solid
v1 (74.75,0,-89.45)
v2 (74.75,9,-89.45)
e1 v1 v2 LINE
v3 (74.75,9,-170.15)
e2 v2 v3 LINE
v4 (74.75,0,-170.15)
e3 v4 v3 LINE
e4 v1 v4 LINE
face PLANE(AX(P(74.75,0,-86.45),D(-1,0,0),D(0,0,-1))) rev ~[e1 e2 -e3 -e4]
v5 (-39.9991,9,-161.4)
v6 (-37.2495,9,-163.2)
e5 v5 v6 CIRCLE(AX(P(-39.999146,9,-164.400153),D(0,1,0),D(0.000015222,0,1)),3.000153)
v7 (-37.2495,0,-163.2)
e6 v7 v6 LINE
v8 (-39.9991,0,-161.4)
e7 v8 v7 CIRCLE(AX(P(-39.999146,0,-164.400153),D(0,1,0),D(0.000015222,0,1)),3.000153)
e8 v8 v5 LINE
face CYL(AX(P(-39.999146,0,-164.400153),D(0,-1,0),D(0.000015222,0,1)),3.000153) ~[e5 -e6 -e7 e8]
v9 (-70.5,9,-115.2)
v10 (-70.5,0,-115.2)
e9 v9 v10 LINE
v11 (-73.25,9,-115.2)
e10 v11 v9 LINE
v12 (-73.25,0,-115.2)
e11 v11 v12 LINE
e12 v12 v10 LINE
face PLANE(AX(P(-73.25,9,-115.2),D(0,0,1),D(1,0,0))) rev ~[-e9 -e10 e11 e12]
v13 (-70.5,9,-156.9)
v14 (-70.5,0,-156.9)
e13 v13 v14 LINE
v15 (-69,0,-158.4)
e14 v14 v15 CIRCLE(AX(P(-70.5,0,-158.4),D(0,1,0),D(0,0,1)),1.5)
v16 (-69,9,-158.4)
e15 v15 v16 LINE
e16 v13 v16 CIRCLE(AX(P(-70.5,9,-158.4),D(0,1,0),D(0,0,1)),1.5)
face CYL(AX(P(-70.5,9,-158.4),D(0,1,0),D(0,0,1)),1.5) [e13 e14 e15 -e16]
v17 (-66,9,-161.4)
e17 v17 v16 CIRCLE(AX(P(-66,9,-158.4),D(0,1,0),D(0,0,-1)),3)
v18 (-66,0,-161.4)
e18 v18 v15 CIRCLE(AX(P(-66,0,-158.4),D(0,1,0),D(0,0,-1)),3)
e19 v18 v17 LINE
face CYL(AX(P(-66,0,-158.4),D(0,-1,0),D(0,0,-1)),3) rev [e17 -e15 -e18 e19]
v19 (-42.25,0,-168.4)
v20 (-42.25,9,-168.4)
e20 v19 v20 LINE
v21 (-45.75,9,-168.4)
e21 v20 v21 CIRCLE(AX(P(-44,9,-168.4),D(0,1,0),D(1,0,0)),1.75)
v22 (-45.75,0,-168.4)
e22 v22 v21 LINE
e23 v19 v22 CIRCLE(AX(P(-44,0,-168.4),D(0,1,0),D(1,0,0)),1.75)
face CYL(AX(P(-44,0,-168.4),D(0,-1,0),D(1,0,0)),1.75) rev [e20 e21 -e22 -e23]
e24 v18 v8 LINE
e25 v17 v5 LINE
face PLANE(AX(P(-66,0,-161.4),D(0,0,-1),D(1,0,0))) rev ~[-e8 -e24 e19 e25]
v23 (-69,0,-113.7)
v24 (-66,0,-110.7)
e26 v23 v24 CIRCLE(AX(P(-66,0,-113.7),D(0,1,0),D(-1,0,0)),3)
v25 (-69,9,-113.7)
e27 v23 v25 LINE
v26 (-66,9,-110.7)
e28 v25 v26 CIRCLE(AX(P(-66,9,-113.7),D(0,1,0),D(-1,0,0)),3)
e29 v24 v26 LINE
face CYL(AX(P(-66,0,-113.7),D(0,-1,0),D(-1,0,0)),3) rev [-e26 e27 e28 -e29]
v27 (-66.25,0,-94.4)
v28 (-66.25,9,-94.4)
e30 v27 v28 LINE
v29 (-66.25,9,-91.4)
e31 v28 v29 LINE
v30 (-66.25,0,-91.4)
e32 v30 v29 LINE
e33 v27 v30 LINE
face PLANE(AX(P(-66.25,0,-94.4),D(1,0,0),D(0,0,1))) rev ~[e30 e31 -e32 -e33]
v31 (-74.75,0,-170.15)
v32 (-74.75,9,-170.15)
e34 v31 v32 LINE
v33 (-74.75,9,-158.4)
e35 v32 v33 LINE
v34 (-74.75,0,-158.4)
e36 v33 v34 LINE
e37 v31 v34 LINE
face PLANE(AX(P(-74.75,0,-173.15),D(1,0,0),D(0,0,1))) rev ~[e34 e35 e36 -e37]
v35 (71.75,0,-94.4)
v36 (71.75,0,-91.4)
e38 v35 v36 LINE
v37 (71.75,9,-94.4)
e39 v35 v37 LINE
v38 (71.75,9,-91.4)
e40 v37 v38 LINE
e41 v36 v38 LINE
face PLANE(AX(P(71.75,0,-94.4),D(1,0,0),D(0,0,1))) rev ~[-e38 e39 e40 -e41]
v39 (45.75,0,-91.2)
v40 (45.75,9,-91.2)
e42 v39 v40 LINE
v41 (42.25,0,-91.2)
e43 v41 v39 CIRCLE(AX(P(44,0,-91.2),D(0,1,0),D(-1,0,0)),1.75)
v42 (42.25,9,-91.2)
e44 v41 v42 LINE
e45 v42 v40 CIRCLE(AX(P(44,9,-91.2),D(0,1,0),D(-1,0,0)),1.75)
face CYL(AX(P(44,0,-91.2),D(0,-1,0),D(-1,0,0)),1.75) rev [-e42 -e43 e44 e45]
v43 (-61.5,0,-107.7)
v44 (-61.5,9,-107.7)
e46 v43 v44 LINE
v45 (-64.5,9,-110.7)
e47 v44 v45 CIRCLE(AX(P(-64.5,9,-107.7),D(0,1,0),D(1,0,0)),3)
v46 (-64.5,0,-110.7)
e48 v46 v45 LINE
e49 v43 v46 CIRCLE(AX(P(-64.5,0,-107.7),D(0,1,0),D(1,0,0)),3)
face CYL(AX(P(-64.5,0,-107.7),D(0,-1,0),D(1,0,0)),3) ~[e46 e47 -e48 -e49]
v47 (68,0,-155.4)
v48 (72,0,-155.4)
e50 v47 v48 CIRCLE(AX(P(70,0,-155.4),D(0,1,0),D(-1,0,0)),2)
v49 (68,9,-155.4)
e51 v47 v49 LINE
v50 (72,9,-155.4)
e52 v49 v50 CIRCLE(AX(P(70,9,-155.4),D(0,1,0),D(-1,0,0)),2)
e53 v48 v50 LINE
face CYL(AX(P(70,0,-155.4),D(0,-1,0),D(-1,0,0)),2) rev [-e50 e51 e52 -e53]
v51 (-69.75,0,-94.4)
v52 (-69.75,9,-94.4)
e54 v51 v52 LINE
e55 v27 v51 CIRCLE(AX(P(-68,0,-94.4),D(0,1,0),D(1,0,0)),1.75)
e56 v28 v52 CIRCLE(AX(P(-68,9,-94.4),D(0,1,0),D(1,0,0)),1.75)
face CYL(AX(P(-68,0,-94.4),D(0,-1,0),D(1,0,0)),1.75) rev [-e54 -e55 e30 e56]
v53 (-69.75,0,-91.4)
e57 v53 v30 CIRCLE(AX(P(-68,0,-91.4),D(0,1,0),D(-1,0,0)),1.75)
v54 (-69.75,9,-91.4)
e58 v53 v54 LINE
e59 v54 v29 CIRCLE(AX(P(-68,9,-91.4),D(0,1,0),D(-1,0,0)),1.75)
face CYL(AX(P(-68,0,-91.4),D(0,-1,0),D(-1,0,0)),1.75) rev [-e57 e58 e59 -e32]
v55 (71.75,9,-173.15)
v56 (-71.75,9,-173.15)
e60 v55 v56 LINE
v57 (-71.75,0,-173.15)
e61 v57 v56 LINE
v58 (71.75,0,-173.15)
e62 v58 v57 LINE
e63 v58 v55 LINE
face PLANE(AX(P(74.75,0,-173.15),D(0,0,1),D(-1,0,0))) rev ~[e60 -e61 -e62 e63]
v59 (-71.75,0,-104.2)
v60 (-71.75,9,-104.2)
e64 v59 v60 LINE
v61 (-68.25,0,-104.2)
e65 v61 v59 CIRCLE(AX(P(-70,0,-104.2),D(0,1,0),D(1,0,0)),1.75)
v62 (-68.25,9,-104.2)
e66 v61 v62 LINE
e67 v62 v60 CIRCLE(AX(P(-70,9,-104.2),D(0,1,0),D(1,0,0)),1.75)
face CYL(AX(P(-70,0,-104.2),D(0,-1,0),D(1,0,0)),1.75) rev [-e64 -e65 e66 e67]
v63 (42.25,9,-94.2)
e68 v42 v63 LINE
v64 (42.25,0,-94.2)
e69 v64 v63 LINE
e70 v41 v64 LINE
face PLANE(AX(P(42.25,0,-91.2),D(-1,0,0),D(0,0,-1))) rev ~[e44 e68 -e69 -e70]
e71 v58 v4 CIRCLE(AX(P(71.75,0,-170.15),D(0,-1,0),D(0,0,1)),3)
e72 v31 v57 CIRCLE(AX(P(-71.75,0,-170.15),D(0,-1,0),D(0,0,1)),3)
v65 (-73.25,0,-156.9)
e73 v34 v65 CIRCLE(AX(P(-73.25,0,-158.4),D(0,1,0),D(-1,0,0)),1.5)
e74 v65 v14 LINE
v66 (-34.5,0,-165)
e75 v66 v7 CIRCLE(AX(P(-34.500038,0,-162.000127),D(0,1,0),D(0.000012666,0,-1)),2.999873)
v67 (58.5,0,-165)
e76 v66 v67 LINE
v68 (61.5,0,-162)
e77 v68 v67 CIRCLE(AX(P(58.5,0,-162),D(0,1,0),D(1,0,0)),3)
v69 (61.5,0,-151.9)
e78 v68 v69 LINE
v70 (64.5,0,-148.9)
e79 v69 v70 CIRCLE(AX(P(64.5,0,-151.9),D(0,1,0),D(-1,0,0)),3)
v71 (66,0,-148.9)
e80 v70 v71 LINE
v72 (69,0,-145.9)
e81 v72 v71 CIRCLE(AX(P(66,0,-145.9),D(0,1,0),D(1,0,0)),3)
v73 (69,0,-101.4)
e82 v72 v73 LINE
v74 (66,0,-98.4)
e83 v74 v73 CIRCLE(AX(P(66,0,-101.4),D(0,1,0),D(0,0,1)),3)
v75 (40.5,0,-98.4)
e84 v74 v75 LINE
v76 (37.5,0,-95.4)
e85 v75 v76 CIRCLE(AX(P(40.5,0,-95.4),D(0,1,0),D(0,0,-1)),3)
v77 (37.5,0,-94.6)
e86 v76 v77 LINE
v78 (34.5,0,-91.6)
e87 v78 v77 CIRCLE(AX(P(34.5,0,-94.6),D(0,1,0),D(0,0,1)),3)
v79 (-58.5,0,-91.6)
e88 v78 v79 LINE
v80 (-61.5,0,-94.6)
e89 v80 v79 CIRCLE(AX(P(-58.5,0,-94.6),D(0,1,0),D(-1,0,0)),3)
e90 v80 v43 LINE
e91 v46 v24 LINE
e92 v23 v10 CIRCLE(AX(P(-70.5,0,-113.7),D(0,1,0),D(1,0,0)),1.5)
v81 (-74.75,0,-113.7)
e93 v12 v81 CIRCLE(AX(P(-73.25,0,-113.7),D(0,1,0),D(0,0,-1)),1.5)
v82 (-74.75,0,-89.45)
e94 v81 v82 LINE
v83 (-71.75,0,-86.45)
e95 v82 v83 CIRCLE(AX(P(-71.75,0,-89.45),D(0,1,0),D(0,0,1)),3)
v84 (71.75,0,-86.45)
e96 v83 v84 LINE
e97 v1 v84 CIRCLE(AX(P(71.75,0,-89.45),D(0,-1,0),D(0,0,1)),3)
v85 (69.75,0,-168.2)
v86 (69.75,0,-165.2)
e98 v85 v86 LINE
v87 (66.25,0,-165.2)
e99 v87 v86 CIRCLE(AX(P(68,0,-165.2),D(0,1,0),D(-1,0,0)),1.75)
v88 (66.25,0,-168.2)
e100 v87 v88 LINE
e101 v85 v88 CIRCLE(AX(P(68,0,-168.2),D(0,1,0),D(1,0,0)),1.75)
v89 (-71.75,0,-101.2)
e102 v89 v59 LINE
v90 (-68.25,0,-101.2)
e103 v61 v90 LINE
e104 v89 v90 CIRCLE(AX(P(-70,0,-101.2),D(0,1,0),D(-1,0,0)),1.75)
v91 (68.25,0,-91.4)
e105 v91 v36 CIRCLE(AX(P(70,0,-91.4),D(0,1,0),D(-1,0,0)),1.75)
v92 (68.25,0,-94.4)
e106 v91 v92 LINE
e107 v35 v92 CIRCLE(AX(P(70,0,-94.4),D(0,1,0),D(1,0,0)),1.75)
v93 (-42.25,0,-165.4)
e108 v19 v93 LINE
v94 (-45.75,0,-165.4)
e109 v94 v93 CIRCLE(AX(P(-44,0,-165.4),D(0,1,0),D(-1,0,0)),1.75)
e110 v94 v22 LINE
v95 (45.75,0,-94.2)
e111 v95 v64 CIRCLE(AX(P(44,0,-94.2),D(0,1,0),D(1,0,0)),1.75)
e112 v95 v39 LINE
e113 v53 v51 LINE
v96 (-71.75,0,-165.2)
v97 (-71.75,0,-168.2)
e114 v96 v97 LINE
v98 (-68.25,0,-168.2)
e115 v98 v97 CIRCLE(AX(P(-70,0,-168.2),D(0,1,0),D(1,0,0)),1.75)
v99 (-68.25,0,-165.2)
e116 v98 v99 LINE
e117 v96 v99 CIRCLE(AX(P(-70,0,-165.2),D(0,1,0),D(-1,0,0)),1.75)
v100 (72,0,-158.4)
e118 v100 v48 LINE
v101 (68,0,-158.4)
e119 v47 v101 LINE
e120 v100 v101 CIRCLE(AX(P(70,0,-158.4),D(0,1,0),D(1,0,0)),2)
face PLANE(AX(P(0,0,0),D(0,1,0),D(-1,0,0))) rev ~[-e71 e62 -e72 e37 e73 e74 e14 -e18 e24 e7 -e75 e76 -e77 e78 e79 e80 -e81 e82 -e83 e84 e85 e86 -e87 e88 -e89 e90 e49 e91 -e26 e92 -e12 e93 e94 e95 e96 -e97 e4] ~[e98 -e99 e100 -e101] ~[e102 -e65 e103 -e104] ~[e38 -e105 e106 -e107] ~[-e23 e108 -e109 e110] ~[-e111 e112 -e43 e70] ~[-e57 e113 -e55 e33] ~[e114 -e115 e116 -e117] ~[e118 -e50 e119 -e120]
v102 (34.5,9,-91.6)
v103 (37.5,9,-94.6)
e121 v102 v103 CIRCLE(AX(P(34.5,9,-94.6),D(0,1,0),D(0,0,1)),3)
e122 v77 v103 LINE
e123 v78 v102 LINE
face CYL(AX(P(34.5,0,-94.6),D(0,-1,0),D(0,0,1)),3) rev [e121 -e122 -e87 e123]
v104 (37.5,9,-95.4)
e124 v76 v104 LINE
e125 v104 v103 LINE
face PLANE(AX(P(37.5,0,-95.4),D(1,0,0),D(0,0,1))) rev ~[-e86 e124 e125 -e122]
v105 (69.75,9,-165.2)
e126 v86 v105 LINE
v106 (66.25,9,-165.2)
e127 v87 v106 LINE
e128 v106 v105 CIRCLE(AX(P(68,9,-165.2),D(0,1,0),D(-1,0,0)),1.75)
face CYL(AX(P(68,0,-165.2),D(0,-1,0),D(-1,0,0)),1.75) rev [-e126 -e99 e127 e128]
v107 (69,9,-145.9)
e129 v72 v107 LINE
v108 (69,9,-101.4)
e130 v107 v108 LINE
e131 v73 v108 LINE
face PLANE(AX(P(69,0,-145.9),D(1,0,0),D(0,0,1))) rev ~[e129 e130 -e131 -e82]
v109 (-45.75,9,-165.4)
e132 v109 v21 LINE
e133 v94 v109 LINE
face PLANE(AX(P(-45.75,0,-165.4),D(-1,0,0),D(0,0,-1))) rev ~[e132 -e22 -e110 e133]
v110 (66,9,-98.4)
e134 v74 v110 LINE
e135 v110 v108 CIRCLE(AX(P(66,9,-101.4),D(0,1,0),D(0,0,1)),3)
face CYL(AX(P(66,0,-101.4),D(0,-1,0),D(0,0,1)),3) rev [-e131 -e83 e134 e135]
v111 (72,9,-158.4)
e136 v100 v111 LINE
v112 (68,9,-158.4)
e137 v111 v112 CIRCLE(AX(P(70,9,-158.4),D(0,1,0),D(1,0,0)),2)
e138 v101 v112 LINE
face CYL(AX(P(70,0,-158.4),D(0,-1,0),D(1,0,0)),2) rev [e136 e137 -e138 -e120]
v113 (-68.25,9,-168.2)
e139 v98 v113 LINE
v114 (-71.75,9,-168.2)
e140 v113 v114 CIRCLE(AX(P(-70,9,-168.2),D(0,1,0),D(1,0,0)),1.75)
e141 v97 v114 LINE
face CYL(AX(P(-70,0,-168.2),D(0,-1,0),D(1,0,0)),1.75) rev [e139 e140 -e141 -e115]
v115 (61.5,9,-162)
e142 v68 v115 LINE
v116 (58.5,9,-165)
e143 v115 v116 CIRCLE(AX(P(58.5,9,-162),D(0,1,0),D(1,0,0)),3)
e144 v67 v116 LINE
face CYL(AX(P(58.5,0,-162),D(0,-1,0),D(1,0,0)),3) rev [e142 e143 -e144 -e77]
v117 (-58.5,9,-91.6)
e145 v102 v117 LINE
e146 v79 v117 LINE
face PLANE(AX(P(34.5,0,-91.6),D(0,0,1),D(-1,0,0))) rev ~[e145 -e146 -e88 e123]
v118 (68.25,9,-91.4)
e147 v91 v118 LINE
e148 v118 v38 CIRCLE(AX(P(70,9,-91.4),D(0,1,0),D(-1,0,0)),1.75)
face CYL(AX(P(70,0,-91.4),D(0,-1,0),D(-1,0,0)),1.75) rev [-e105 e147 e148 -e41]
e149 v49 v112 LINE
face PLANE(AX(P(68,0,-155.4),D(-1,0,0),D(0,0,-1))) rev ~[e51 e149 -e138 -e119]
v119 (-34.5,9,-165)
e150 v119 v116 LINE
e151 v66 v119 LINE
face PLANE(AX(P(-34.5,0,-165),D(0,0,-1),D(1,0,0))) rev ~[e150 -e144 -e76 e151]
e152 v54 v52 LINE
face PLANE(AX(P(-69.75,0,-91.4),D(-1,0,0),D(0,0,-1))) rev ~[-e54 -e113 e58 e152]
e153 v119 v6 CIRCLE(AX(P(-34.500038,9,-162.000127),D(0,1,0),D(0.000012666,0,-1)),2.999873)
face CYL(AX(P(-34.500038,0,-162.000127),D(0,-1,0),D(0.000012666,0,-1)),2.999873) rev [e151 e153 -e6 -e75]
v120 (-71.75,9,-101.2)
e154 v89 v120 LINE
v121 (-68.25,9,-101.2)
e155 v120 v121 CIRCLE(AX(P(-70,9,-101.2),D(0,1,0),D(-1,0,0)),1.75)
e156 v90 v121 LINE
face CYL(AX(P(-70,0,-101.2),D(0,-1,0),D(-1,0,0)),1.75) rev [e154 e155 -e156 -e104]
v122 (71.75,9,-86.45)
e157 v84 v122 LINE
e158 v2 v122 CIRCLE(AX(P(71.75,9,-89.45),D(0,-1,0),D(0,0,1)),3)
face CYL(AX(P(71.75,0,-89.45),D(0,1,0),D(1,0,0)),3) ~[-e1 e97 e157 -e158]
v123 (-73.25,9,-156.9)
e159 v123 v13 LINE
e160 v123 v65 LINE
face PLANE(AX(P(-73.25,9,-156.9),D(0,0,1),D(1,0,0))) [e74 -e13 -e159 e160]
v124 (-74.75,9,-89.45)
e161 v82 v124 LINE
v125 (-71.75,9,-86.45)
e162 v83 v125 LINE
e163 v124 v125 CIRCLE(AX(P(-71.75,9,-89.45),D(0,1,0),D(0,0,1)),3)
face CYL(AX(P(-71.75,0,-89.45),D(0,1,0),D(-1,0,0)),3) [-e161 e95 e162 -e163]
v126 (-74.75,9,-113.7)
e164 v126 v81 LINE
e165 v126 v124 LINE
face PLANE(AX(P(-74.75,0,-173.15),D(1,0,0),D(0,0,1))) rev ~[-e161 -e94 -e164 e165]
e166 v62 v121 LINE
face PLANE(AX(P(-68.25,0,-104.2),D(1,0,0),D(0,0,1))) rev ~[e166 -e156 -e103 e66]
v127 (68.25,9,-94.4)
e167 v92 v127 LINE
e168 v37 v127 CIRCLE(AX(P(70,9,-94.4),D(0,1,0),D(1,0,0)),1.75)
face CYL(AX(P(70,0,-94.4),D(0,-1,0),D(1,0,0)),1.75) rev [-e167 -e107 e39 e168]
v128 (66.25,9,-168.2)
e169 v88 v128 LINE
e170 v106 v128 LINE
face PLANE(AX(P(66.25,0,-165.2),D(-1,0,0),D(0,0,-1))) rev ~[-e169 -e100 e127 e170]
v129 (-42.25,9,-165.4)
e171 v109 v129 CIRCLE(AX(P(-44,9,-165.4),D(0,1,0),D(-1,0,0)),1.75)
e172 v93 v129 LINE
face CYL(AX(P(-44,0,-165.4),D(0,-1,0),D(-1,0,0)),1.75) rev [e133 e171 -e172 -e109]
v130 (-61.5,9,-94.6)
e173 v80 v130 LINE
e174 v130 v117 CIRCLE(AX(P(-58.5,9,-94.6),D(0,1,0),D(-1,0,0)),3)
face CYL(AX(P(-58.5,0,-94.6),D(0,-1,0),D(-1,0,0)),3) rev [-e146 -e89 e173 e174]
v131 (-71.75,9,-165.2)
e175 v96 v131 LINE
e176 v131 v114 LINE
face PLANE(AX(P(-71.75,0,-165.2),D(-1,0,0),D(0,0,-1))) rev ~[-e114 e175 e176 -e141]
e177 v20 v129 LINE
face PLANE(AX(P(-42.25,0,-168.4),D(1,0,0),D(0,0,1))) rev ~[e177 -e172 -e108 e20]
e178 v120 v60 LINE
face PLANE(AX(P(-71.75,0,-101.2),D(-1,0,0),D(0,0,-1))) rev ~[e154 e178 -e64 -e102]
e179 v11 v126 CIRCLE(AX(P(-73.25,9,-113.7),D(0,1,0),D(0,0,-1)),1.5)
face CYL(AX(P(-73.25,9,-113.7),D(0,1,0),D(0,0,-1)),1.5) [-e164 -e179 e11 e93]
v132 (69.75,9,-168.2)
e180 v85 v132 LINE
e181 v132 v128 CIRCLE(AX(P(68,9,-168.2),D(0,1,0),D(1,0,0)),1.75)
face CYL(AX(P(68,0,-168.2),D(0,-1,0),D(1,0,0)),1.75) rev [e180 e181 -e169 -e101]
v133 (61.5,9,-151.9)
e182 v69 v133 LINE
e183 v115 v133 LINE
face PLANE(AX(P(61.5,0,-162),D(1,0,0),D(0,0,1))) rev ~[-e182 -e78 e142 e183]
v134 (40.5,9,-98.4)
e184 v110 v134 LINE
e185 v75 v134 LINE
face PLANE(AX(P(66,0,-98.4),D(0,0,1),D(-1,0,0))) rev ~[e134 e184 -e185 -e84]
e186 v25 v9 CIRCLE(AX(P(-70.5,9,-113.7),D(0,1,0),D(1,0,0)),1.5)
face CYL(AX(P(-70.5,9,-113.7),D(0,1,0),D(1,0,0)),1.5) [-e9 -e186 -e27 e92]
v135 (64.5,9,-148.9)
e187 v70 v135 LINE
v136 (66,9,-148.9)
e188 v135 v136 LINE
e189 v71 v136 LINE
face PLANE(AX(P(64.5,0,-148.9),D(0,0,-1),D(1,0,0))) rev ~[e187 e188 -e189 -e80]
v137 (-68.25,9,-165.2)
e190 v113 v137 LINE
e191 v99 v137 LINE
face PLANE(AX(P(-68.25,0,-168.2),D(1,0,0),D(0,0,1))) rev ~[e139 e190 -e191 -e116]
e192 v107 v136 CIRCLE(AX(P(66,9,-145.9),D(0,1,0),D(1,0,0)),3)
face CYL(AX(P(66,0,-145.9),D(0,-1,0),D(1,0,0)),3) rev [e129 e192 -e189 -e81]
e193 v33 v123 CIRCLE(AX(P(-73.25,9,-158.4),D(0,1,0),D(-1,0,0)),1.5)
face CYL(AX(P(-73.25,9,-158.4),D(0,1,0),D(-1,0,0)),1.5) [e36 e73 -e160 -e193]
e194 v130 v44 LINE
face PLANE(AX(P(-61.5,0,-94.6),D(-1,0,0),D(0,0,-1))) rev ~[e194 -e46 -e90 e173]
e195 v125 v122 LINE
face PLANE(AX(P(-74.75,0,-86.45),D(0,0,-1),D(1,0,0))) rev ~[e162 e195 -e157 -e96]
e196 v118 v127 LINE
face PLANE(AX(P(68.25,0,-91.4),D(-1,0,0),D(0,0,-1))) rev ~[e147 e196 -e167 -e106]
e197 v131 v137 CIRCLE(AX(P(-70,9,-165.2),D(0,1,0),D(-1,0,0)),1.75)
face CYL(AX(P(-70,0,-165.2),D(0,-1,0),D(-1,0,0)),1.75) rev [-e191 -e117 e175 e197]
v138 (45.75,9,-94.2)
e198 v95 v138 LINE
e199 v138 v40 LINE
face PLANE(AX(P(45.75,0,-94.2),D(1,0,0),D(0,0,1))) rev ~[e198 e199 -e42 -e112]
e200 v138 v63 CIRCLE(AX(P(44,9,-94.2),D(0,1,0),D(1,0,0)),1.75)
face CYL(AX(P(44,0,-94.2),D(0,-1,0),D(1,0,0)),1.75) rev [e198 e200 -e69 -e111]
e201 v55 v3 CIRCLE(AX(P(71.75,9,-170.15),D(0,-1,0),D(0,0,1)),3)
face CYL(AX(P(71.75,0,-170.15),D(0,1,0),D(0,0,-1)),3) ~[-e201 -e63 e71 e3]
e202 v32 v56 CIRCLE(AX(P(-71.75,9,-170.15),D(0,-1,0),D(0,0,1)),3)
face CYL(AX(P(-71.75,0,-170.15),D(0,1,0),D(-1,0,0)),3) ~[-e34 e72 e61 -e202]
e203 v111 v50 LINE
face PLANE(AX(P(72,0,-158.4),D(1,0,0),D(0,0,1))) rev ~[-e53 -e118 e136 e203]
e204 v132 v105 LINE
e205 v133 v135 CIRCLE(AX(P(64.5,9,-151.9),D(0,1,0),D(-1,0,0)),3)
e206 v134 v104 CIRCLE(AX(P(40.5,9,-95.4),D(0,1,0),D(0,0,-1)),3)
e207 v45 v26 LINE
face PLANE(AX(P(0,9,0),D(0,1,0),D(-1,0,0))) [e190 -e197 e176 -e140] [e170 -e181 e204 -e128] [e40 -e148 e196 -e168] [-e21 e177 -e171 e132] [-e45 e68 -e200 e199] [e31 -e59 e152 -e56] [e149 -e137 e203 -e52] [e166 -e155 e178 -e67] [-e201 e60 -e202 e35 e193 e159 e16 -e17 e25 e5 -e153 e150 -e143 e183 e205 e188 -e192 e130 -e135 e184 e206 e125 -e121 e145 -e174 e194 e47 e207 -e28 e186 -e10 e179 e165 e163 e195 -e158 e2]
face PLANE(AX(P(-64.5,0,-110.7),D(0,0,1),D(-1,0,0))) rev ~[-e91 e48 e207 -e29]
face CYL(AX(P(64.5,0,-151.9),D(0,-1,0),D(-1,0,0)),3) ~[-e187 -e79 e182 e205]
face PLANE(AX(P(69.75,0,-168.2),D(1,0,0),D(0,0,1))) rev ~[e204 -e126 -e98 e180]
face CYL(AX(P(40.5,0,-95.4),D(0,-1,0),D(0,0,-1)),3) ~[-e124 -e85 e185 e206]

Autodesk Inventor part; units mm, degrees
ref_plane "YZ Plane" through (0, 0, 0) normal (1, 0, 0) x (0, 1, 0)
ref_plane "XZ Plane" through (0, 0, 0) normal (0, 1, 0) x (-1, 0, 0)
ref_plane "XY Plane" through (0, 0, 0) normal (0, 0, 1) x (1, 0, 0)
sketch "Sketch1" plane through (0, 0, 0) normal (0, 1, 0) x (-1, 0, 0)
  arc A0 (-69, -145.9) -> (-66, -148.9) centre (-66, -145.9) ccw
  line L0 (-64.5, -148.9) -> (-66, -148.9)
  arc A1 (-68, -155.4) -> (-72, -155.4) centre (-70, -155.4) ccw
  line L1 (-68, -155.4) -> (-68, -158.4)
  line L2 (-72, -158.4) -> (-72, -155.4)
  arc A2 (-72, -158.4) -> (-68, -158.4) centre (-70, -158.4) ccw
  line L3 (-61.5, -162) -> (-61.5, -151.9)
  arc A3 (-66.25, -165.2) -> (-69.75, -165.2) centre (-68, -165.2) ccw
  line L4 (-66.25, -165.2) -> (-66.25, -168.2)
  line L5 (-69.75, -168.2) -> (-69.75, -165.2)
  arc A4 (-69.75, -168.2) -> (-66.25, -168.2) centre (-68, -168.2) ccw
  arc A5 (-61.5, -151.9) -> (-64.5, -148.9) centre (-64.5, -151.9) ccw
  arc A6 (61.5, -94.6) -> (58.5, -91.6) centre (58.5, -94.6) ccw
  line L6 (61.5, -94.6) -> (61.5, -107.7)
  line L7 (66.25, -94.4) -> (66.25, -91.4)
  arc A7 (69.75, -91.4) -> (66.25, -91.4) centre (68, -91.4) ccw
  line L8 (69.75, -91.4) -> (69.75, -94.4)
  arc A8 (66.25, -94.4) -> (69.75, -94.4) centre (68, -94.4) ccw
  arc A9 (71.75, -101.2) -> (68.25, -101.2) centre (70, -101.2) ccw
  line L9 (71.75, -101.2) -> (71.75, -104.2)
  arc A10 (68.25, -104.2) -> (71.75, -104.2) centre (70, -104.2) ccw
  arc A11 (61.5, -107.7) -> (64.5, -110.7) centre (64.5, -107.7) ccw
  line L10 (64.5, -110.7) -> (66, -110.7)
  arc A12 (69, -113.7) -> (66, -110.7) centre (66, -113.7) ccw
  line L11 (69, -113.7) -> (69, -158.4)
  line L12 (68.25, -104.2) -> (68.25, -101.2)
  arc A13 (66, -161.4) -> (69, -158.4) centre (66, -158.4) ccw
  arc A14 (71.75, -165.2) -> (68.25, -165.2) centre (70, -165.2) ccw
  line L13 (71.75, -165.2) -> (71.75, -168.2)
  arc A15 (68.25, -168.2) -> (71.75, -168.2) centre (70, -168.2) ccw
  line L14 (68.25, -168.2) -> (68.25, -165.2)
  line L15 (66, -161.4) -> (39.9991, -161.4)
  arc A16 (45.75, -165.4) -> (42.25, -165.4) centre (44, -165.4) ccw
  arc A17 (39.9991, -161.4) -> (37.2495, -163.2) centre (39.9991, -164.4) ccw
  line L16 (45.75, -165.4) -> (45.75, -168.4)
  arc A18 (34.5, -165) -> (37.2495, -163.2) centre (34.5, -162) ccw
  line L17 (42.25, -168.4) -> (42.25, -165.4)
  arc A19 (42.25, -168.4) -> (45.75, -168.4) centre (44, -168.4) ccw
  line L18 (34.5, -165) -> (-58.5, -165)
  arc A20 (-61.5, -162) -> (-58.5, -165) centre (-58.5, -162) ccw
  line L19 (-66, -98.4) -> (-40.5, -98.4)
  arc A21 (-71.75, -94.4) -> (-68.25, -94.4) centre (-70, -94.4) ccw
  arc A22 (-68.25, -91.4) -> (-71.75, -91.4) centre (-70, -91.4) ccw
  line L20 (-71.75, -94.4) -> (-71.75, -91.4)
  line L21 (-68.25, -91.4) -> (-68.25, -94.4)
  line L22 (-69, -145.9) -> (-69, -101.4)
  arc A23 (-66, -98.4) -> (-69, -101.4) centre (-66, -101.4) ccw
  line L23 (-45.75, -94.2) -> (-45.75, -91.2)
  arc A24 (-42.25, -91.2) -> (-45.75, -91.2) centre (-44, -91.2) ccw
  line L24 (-42.25, -91.2) -> (-42.25, -94.2)
  arc A25 (-45.75, -94.2) -> (-42.25, -94.2) centre (-44, -94.2) ccw
  line L25 (-34.5, -91.6) -> (58.5, -91.6)
  arc A26 (-34.5, -91.6) -> (-37.5, -94.6) centre (-34.5, -94.6) ccw
  line L26 (-37.5, -95.4) -> (-37.5, -94.6)
  arc A27 (-40.5, -98.4) -> (-37.5, -95.4) centre (-40.5, -95.4) ccw
  line L27 (74.75, -86.45) -> (-74.75, -86.45)
  line L28 (-74.75, -86.45) -> (-74.75, -173.15)
  line L29 (-74.75, -173.15) -> (74.75, -173.15)
  line L30 (74.75, -173.15) -> (74.75, -86.45)
  point P0 (0, 0)
  dimension "d0" = 1.75
  dimension "d1" = 3
  dimension "d2" = 2
  dimension "d3" = 2
  dimension "d4" = 2.75
  dimension "d5" = 10.25
  dimension "d6" = 26
  dimension "d7" = 109.25
  dimension "d8" = 114
  dimension "d9" = 133.25
  dimension "d10" = 138
  dimension "d11" = 139.75
  dimension "d12" = 140
  dimension "d13" = 140.75
  dimension "d14" = 50.7
  dimension "d15" = 19.1
  dimension "d16" = 54.3
  dimension "d17" = 12.3
  dimension "d18" = 38.2
  dimension "d19" = 9.5
  dimension "d20" = 6.5
  dimension "d21" = 54.5
  dimension "d22" = 57.5
  dimension "d23" = 19.3
  dimension "d24" = 16.3
  dimension "d25" = 54.7
  dimension "d26" = 57.7
  dimension "d27" = 31.7509
  dimension "d28" = 19.5
  dimension "d29" = 16.5
  dimension "d30" = 54.5
  dimension "d31" = 44.7
  dimension "d32" = 137.75
  dimension "d33" = 57.5
  dimension "d34" = 16.3
  dimension "d35" = 139
  dimension "d36" = 19.3
  dimension "d37" = 139
  dimension "d38" = 47.7
  dimension "d40" = 3
  dimension "d41" = 3
  dimension "d42" = 3
  dimension "d43" = 3
extrude "Extrusion1" add sketch "Sketch1" along normal blind 9
fillet "Fillet1" radius 3 4 edges at (-74.75, 4.5, -86.45) (-74.75, 4.5, -173.15) (74.75, 4.5, -173.15) (74.75, 4.5, -86.45)
sketch "Sketch2" plane through (0, 9, 0) normal (0, 1, 0) x (1, 0, 0)
  line L0 (-69, 113.7) -> (-69, 158.4) projected
  line L1 (-74.75, 170.15) -> (-74.75, 89.45) projected
  arc A0 (-66, 161.4) -> (-69, 158.4) centre (-66, 158.4) ccw projected
  arc A1 (-70.5, 156.9) -> (-69, 158.4) centre (-70.5, 158.4) ccw
  arc A2 (-74.75, 158.4) -> (-73.25, 156.9) centre (-73.25, 158.4) ccw
  line L2 (-73.25, 156.9) -> (-70.5, 156.9)
  line L3 (-73.25, 115.2) -> (-70.5, 115.2)
  arc A3 (-73.25, 115.2) -> (-74.75, 113.7) centre (-73.25, 113.7) ccw
  arc A4 (-69, 113.7) -> (-70.5, 115.2) centre (-70.5, 113.7) ccw
  point P0 (0, 0)
  dimension "d50" = 3
  dimension "d51" = 3
extrude "Extrusion3" cut sketch "Sketch2" against normal up to surface (9 mm away)
properties part number "psu_spacer"
